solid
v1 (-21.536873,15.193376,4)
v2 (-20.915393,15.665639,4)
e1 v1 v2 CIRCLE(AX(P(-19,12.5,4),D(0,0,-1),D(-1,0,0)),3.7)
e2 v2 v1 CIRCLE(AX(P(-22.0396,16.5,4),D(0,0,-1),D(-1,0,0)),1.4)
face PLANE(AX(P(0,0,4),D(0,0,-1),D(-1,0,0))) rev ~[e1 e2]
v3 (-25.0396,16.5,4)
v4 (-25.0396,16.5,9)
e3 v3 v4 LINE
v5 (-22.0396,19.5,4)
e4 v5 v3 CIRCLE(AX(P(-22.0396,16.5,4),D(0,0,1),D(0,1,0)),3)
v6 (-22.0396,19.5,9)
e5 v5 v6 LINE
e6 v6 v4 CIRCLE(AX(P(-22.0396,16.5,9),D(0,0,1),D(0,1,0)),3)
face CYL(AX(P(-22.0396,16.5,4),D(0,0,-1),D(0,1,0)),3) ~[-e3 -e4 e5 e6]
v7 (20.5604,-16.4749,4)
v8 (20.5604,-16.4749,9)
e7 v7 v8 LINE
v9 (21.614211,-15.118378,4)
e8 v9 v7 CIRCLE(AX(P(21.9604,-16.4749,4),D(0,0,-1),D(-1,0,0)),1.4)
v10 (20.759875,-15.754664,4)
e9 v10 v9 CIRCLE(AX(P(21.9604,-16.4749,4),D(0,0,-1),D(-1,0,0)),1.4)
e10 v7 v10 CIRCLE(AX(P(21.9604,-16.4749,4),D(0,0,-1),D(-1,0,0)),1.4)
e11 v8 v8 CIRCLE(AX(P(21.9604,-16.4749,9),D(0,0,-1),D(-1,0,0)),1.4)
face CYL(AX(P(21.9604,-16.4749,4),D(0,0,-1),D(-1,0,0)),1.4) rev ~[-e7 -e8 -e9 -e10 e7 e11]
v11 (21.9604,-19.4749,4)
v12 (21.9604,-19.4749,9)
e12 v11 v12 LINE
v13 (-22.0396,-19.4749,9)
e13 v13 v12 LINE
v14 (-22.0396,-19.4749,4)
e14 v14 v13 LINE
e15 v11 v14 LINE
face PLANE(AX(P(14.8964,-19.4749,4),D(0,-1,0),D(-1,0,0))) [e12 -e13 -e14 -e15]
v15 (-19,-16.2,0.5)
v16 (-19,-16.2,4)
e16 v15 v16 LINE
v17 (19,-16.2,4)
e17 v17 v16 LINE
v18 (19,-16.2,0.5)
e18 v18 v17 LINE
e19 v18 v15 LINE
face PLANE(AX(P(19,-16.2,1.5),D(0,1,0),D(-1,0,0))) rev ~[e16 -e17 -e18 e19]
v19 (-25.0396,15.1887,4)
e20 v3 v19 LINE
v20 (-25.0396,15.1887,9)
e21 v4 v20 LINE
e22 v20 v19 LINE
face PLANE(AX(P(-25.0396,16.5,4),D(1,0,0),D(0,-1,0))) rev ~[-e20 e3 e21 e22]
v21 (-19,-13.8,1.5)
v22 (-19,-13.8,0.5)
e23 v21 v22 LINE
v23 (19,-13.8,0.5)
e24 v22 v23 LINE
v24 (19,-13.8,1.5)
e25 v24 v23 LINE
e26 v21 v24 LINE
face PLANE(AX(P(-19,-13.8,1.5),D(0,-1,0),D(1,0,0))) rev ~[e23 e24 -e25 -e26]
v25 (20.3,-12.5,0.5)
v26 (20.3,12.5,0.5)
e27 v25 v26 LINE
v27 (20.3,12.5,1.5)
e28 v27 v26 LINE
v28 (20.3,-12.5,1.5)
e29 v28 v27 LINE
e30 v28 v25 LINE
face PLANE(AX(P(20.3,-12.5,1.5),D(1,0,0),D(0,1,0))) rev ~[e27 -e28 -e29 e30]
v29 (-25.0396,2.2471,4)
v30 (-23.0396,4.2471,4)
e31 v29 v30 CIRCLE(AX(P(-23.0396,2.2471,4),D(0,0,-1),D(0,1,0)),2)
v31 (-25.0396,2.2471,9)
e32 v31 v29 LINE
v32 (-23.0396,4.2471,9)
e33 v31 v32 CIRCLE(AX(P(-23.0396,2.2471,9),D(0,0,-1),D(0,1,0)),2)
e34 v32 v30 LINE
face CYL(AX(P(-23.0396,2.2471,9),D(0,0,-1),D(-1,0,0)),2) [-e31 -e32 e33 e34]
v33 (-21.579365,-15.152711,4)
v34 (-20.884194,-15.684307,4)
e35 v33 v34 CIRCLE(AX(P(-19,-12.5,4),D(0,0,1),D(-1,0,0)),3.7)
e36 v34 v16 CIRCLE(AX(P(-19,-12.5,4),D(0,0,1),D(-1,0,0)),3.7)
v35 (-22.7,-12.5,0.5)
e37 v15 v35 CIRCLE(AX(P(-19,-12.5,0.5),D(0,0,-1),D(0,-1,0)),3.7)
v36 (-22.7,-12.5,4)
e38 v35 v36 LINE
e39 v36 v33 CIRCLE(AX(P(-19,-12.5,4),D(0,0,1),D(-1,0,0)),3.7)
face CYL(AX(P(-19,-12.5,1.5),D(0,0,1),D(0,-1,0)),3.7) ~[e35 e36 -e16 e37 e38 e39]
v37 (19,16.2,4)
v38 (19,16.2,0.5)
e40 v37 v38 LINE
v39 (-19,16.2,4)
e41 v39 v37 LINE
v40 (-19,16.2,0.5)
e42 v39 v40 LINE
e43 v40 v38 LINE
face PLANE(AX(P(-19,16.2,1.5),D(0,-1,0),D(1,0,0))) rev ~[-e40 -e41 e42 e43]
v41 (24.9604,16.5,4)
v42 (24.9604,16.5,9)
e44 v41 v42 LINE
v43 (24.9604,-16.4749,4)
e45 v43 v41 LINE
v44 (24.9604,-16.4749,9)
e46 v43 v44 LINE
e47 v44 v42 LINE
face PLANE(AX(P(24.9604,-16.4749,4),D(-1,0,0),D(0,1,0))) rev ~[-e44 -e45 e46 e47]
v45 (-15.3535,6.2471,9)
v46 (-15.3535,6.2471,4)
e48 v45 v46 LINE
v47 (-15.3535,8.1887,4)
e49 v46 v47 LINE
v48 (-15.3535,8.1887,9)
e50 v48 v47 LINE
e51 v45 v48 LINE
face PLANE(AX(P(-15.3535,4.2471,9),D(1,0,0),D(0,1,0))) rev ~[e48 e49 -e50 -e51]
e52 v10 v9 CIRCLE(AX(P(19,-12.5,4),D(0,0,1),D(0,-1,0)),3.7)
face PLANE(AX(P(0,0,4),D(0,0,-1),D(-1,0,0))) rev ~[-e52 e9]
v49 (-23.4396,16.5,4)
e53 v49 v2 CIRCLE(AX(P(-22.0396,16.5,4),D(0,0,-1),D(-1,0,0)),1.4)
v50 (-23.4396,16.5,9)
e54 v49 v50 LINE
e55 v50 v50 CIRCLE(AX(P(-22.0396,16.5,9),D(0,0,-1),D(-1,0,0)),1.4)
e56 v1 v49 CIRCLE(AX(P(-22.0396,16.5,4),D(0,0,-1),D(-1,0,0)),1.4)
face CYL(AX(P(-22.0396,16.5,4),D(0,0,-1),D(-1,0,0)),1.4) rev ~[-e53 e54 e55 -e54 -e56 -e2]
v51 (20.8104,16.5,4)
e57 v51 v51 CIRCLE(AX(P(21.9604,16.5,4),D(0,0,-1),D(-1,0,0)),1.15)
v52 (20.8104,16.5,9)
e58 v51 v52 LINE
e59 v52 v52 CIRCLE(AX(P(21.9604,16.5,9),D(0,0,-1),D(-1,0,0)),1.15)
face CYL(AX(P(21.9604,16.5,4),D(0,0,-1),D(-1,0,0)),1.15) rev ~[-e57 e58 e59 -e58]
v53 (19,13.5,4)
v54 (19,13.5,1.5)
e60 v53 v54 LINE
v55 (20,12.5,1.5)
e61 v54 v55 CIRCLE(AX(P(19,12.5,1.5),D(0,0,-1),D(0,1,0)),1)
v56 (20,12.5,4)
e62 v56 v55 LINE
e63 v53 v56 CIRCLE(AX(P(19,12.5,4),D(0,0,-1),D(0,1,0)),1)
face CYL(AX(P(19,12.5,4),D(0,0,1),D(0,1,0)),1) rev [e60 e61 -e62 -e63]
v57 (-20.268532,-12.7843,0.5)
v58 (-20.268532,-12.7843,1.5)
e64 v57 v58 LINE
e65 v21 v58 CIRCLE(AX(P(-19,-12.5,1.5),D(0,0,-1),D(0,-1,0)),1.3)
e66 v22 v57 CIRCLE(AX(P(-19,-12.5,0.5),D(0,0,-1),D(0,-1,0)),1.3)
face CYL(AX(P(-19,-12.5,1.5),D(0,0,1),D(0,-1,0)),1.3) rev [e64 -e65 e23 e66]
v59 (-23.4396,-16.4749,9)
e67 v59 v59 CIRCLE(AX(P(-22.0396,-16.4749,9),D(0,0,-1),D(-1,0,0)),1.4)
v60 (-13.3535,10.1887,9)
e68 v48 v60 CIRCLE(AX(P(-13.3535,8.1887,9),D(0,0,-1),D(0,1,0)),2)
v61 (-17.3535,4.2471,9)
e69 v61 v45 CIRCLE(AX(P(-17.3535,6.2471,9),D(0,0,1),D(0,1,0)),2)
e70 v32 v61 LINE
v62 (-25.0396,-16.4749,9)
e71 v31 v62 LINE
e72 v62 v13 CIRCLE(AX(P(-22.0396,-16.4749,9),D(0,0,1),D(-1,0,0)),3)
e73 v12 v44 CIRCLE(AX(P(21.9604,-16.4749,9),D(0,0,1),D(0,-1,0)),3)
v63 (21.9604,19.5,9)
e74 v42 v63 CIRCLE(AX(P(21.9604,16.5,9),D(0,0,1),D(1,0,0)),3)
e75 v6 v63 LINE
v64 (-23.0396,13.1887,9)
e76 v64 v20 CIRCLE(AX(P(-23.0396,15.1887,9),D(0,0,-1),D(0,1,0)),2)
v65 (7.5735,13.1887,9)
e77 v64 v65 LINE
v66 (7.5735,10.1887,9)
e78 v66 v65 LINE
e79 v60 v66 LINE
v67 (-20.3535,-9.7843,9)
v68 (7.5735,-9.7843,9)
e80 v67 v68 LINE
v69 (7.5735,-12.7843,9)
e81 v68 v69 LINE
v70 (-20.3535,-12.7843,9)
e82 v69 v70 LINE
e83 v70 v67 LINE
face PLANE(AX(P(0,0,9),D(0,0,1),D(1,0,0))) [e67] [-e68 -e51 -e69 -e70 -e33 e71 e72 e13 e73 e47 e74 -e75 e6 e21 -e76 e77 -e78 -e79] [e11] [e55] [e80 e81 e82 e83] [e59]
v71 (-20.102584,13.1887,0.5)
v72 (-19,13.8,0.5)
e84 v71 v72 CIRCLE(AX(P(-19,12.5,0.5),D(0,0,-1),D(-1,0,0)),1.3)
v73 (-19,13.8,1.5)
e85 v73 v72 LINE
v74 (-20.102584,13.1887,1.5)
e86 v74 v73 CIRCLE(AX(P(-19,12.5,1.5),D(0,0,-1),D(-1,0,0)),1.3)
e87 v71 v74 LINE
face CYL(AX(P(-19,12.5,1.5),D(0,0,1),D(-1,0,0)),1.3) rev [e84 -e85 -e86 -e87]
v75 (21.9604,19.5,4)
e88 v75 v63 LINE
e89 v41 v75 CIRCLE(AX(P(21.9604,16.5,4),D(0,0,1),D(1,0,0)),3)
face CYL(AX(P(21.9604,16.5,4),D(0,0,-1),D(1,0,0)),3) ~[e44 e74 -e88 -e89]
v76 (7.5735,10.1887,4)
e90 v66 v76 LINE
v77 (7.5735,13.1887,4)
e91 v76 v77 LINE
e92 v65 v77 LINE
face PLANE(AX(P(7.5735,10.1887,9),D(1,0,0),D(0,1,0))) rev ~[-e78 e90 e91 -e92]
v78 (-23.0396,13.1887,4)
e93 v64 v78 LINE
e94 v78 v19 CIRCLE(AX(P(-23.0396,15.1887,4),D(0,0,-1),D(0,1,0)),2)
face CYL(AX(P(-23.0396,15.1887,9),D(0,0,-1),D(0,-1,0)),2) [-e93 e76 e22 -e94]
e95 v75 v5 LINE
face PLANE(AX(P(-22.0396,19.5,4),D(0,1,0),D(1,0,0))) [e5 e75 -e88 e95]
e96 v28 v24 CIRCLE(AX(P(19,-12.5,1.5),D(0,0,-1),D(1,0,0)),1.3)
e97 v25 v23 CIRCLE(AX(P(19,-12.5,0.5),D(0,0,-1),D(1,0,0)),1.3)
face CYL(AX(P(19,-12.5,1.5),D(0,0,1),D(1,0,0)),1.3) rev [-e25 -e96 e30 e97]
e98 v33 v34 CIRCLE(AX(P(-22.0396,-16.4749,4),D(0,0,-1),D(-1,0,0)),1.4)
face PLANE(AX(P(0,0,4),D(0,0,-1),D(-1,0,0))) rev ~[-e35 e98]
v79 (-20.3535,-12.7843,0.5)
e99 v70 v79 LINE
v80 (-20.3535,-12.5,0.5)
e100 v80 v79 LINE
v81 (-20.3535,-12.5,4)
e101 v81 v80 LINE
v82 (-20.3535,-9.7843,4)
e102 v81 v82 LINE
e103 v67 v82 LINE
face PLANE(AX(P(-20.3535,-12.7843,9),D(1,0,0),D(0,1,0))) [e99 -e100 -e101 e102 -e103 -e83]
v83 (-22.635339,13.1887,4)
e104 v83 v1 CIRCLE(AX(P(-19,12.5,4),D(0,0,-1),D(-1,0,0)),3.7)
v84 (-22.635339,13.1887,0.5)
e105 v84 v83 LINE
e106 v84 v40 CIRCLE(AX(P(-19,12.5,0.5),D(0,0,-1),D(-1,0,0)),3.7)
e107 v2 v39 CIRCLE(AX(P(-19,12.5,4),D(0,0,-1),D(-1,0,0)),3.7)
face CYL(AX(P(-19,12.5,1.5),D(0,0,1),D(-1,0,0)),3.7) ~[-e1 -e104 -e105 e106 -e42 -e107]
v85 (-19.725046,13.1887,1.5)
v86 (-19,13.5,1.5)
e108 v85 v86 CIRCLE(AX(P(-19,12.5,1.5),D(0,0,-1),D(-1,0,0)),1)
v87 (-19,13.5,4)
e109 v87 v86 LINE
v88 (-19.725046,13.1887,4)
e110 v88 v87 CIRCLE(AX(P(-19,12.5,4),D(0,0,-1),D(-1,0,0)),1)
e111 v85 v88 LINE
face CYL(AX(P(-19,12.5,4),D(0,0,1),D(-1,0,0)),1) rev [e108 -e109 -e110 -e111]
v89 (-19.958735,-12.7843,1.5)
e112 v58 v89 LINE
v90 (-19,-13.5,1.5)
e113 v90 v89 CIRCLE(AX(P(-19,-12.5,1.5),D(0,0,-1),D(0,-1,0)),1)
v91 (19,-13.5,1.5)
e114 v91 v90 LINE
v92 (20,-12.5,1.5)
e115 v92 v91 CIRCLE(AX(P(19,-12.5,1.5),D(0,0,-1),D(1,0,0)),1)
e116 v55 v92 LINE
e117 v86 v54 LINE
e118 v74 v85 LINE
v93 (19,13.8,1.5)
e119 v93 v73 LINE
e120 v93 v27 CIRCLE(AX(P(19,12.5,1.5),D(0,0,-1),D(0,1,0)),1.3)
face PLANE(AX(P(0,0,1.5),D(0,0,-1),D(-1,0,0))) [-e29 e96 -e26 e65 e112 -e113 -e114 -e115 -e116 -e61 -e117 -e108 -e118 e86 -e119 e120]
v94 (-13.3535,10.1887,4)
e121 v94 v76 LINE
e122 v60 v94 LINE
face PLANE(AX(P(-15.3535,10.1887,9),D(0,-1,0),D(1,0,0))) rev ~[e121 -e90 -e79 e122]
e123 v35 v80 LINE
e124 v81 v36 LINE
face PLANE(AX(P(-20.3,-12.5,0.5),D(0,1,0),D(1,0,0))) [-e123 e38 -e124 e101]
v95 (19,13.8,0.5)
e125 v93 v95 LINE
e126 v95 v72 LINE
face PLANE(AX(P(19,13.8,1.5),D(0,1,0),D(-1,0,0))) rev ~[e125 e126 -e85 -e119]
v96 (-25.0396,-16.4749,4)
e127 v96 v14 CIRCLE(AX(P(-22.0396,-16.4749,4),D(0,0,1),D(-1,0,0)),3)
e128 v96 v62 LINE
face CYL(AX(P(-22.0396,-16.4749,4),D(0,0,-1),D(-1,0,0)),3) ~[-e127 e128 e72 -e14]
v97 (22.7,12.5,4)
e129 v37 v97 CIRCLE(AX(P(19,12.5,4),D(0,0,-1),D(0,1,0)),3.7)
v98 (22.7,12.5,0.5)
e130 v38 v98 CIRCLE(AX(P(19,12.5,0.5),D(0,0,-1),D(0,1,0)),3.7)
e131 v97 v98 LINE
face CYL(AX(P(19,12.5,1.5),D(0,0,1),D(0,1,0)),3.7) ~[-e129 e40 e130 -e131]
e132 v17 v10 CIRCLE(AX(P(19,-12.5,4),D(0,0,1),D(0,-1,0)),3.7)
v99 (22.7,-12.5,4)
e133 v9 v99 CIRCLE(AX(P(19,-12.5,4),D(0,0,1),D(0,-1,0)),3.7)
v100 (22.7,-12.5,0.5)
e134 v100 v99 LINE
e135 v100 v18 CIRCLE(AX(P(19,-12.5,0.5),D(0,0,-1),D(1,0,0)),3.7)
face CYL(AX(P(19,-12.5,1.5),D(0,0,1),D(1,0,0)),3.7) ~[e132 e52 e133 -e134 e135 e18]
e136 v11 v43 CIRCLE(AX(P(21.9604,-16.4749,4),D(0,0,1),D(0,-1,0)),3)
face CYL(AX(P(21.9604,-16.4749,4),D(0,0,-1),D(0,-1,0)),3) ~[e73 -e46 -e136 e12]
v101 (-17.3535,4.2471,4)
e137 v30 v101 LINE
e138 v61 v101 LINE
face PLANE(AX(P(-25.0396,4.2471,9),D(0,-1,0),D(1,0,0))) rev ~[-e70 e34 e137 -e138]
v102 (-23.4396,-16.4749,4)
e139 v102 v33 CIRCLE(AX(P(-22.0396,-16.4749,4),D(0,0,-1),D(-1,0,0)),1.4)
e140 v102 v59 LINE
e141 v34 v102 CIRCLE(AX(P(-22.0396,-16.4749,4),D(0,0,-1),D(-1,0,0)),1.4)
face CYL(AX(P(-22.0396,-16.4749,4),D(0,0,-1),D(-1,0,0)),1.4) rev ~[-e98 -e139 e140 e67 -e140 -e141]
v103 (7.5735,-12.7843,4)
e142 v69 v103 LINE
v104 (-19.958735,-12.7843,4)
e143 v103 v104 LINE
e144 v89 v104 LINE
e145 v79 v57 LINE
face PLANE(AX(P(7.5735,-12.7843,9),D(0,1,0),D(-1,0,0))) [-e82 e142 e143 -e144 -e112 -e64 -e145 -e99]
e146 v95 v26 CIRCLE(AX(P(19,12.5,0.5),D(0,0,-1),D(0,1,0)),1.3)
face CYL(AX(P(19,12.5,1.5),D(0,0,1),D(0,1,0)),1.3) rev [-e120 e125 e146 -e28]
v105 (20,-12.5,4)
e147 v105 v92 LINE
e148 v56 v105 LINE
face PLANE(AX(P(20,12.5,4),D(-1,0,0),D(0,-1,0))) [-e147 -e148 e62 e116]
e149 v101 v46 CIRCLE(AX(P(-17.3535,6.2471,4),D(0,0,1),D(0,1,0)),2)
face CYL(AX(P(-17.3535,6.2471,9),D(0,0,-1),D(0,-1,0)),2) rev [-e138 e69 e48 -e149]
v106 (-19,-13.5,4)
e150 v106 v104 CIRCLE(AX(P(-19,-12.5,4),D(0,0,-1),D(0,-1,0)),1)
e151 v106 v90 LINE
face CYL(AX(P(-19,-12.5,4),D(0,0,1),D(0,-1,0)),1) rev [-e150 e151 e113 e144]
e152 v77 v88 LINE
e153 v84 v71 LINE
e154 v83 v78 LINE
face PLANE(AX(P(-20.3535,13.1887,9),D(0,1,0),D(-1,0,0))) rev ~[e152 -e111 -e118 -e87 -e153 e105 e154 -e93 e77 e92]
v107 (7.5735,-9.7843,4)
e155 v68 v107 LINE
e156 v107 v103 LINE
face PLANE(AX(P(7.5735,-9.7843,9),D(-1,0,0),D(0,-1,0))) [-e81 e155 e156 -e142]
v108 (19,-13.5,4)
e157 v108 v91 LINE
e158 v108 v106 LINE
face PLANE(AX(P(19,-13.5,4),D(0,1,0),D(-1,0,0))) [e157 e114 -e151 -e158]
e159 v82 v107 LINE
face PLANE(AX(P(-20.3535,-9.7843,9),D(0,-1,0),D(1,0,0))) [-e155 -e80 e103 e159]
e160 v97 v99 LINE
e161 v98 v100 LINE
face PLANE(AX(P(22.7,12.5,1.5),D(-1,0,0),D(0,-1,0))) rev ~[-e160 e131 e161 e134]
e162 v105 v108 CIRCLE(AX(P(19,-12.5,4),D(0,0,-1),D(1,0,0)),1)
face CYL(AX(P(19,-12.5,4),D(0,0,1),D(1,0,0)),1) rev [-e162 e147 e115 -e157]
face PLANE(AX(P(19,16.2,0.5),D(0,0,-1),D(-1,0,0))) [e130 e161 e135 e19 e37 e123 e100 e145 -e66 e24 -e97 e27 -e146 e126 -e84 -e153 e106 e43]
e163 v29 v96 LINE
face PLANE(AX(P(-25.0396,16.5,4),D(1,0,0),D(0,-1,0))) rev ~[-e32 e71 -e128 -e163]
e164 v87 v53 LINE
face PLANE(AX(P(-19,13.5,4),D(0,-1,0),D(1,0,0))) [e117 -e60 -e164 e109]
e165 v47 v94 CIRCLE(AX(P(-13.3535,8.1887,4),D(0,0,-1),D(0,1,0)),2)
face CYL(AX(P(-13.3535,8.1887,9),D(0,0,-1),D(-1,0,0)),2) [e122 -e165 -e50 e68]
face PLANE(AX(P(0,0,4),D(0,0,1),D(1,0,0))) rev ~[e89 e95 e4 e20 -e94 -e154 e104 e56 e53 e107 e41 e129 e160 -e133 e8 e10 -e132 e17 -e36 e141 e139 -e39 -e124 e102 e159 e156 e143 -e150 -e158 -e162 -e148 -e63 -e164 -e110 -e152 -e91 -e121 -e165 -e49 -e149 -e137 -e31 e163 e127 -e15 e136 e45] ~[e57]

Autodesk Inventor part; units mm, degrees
ref_plane "YZ Plane" through (0, 0, 0) normal (1, 0, 0) x (0, 1, 0)
ref_plane "Arbeitsebene1" through (0, 0, 4) normal (0, 0, 1) x (1, 0, 0)
sketch "Skizze1" plane through (0, 0, 4) normal (0, 0, 1) x (1, 0, 0)
  line L0 (21.8964, 12.5) -> (21.8964, -12.5) construction
  arc A0 (14.8964, -19.5) -> (21.8964, -12.5) centre (14.8964, -12.5) ccw construction
  line L1 (14.8964, -19.5) -> (-23.1036, -19.5) construction
  arc A1 (-30.1036, -12.5) -> (-23.1036, -19.5) centre (-23.1036, -12.5) ccw construction
  line L2 (-30.1036, -12.5) -> (-30.1036, 12.5) construction
  arc A2 (-23.1036, 19.5) -> (-30.1036, 12.5) centre (-23.1036, 12.5) ccw construction
  line L3 (-23.1036, 19.5) -> (14.8964, 19.5) construction
  arc A3 (21.8964, 12.5) -> (14.8964, 19.5) centre (14.8964, 12.5) ccw construction
  line L4 (-26.9233, 19.5) -> (14.8964, 19.5)
  line L5 (14.8964, 19.5) -> (14.8964, -19.4749)
  line L6 (14.8964, -19.4749) -> (-26.9233, -19.4749)
  line L7 (-26.9233, -19.4749) -> (-26.9233, 19.5)
  line L8 (2.5735, 11.7657) -> (-15.3535, 11.7657) construction
  line L9 (2.5735, 13.7657) -> (-15.3535, 13.7657)
  line L10 (-15.3535, 9.7657) -> (2.5735, 9.7657)
  arc A4 (2.5735, 9.7657) -> (2.5735, 13.7657) centre (2.5735, 11.7657) ccw
  arc A5 (-15.3535, 13.7657) -> (-15.3535, 9.7657) centre (-15.3535, 11.7657) ccw
  line L11 (2.4395, -11.3613) -> (-15.3535, -11.3613) construction
  line L12 (2.4395, -9.3613) -> (-15.3535, -9.3613)
  line L13 (-15.3535, -13.3613) -> (2.4395, -13.3613)
  arc A6 (2.4395, -13.3613) -> (2.4395, -9.3613) centre (2.4395, -11.3613) ccw
  arc A7 (-15.3535, -9.3613) -> (-15.3535, -13.3613) centre (-15.3535, -11.3613) ccw
  line L14 (24.9604, -16.4749) -> (24.9604, 19.5) construction
  line L15 (21.9604, 19.5) -> (-22.0396, 19.5) construction
  line L16 (-25.0396, 19.5) -> (-25.0396, -16.4749) construction
  line L17 (-22.0396, -19.4749) -> (24.9604, -19.4749) construction
  line L18 (24.9604, 19.5) -> (14.8964, 19.5)
  line L19 (14.8964, 19.5) -> (14.8964, -19.4749)
  line L20 (14.8964, -19.4749) -> (21.9604, -19.4749)
  line L21 (24.9604, -19.4749) -> (24.9604, 16.5)
  line L22 (-26.9233, 19.5) -> (-25.0396, 19.5)
  line L23 (-25.0396, -19.4749) -> (-26.9233, -19.4749)
  line L24 (-26.9233, -19.4749) -> (-26.9233, 19.5)
  arc A8 (-25.0396, -16.4749) -> (-22.0396, -19.4749) centre (-22.0396, -16.4749) ccw
  arc A9 (-22.0396, 19.5) -> (-25.0396, 16.5) centre (-22.0396, 16.5) ccw
  arc A10 (24.9604, 16.5) -> (21.9604, 19.5) centre (21.9604, 16.5) ccw
  arc A11 (21.9604, -19.4749) -> (24.9604, -16.4749) centre (21.9604, -16.4749) ccw
  line L25 (8.61, 8.7657) -> (-21.39, 8.7657)
  line L26 (-21.39, 8.7657) -> (-21.39, 14.7657)
  line L27 (-21.39, 14.7657) -> (8.61, 14.7657)
  line L28 (8.61, 14.7657) -> (8.61, 8.7657)
  line L29 (8.61, 8.7657) -> (-21.39, 14.7657) construction
  line L30 (-21.39, 8.7657) -> (8.61, 14.7657) construction
  line L31 (8.543, -14.3613) -> (-21.457, -14.3613)
  line L32 (-21.457, -14.3613) -> (-21.457, -8.3613)
  line L33 (-21.457, -8.3613) -> (8.543, -8.3613)
  line L34 (8.543, -8.3613) -> (8.543, -14.3613)
  line L35 (8.543, -14.3613) -> (-21.457, -8.3613) construction
  line L36 (-21.457, -14.3613) -> (8.543, -8.3613) construction
  line L37 (-25.0396, 16.5) -> (-25.0396, -16.4749)
  line L38 (-25.0396, -19.227) -> (-25.0396, -19.4749)
  point P0 (0, 0)
  point P1 (-15.2165, -11.3613)
  point P2 (-6.39, 11.7657)
  point P3 (-6.457, -11.3613)
  point P4 (-24, -18.4749)
  point P5 (33.4901, -16.4749)
  point P6 (-34.4755, 19.5)
  point P7 (-34.4755, -19.4749)
  point P8 (-22.0396, -19.4749)
  dimension "d1" = 4
  dimension "d2" = 4
  dimension "d5" = 3
  dimension "d37" = 30
  dimension "d38" = 6
  dimension "d39" = 6
  dimension "d40" = 30
  dimension "d55" = 50
extrude "Extrusion1" add sketch "Skizze1" along normal blind 5 contours L4 L5 L6 A8 L37 A9 | L18 A10 L21 A11 L20 L5 | A4 L10 A5 L9 | A6 L13 A7 L12 | L25 L26 L27 L28 | L31 L32 L33 L34
sketch "Skizze3" plane through (0, 0, 4) normal (0, 0, -1) x (-1, 0, 0)
  line L0 (22.0396, -19.4749) -> (-21.9604, -19.4749) projected
  line L1 (-21.9604, 19.5) -> (22.0396, 19.5) projected
  arc A0 (-21.9604, 19.5) -> (-24.9604, 16.5) centre (-21.9604, 16.5) ccw projected
  line L2 (-24.9604, -16.4749) -> (-24.9604, 16.5) projected
  circle A1 centre (-21.9604, 16.5) radius 1.15
  circle A2 centre (-21.9604, -16.4749) radius 1.4
  circle A3 centre (22.0396, 16.5) radius 1.4
  circle A4 centre (22.0396, -16.4749) radius 1.4
  arc A5 (-24.9604, -16.4749) -> (-21.9604, -19.4749) centre (-21.9604, -16.4749) ccw projected
  line L3 (25.0396, 16.5) -> (25.0396, -16.4749) projected
  arc A6 (25.0396, 16.5) -> (22.0396, 19.5) centre (22.0396, 16.5) ccw projected
  arc A7 (22.0396, -19.4749) -> (25.0396, -16.4749) centre (22.0396, -16.4749) ccw projected
  point P0 (0, 0)
  dimension "d16" = 2.3
  dimension "d17" = 2.8
  dimension "d18" = 2.8
  dimension "d19" = 2.8
extrude "Extrusion3" cut sketch "Skizze3" against normal blind 10 contours A1 | A2 | A3 | A4
sketch "Skizze9" plane through (0, 0, 4) normal (0, 0, -1) x (-1, 0, 0)
  arc A0 (19, -13.5) -> (20, -12.5) centre (19, -12.5) ccw projected
  line L0 (20, -12.5) -> (20, 12.5) projected
  arc A1 (20, 12.5) -> (19, 13.5) centre (19, 12.5) ccw projected
  line L1 (19, 13.5) -> (-19, 13.5) projected
  arc A2 (-19, 13.5) -> (-20, 12.5) centre (-19, 12.5) ccw projected
  line L2 (-20, 12.5) -> (-20, -12.5) projected
  arc A3 (-20, -12.5) -> (-19, -13.5) centre (-19, -12.5) ccw projected
  line L3 (-19, -13.5) -> (19, -13.5) projected
  line L4 (-19, 13.2) -> (19, 13.2)
  arc A4 (19.7, 12.5) -> (19, 13.2) centre (19, 12.5) ccw
  line L5 (19.7, 12.5) -> (19.7, -12.5)
  arc A5 (19, -13.2) -> (19.7, -12.5) centre (19, -12.5) ccw
  line L6 (19, -13.2) -> (-19, -13.2)
  arc A6 (-19.7, -12.5) -> (-19, -13.2) centre (-19, -12.5) ccw
  line L7 (-19.7, -12.5) -> (-19.7, 12.5)
  arc A7 (-19, 13.2) -> (-19.7, 12.5) centre (-19, 12.5) ccw
  line L8 (19, 16.2) -> (-19, 16.2)
  arc A8 (-19, 16.2) -> (-22.7, 12.5) centre (-19, 12.5) ccw
  line L9 (-22.7, 12.5) -> (-22.7, -12.5)
  arc A9 (-22.7, -12.5) -> (-19, -16.2) centre (-19, -12.5) ccw
  line L10 (-19, -16.2) -> (19, -16.2)
  arc A10 (19, -16.2) -> (22.7, -12.5) centre (19, -12.5) ccw
  line L11 (22.7, -12.5) -> (22.7, 12.5)
  arc A11 (22.7, 12.5) -> (19, 16.2) centre (19, 12.5) ccw
  circle A12 centre (-21.9604, 16.5) radius 1.15 projected
  circle A13 centre (22.0396, 16.5) radius 1.4 projected
  circle A14 centre (22.0396, -16.4749) radius 1.4 projected
  circle A15 centre (-21.9604, -16.4749) radius 1.4 projected
  point P0 (0, 0)
  dimension "d46" = 0.3
  dimension "d47" = 3
ref_plane "Arbeitsebene4" through (-20, -13.5, 1.5) normal (0, 0, 1) x (1, 0, 0)
extrude "Extrusion8" add sketch "Skizze9" along normal up to surface (2.5 mm away) contours A11 A13 L11 A10 A14 L10 A9 A15 L9 A8 L8 | A11 A13 | A15 A9 | A10 A14 picked at (21.2445, 15.3819) picked at (-21.1797, -15.4267) picked at (21.1725, -15.4212)
sketch "Skizze10" plane through (19, 16.2, 1.5) normal (0, 0, -1) x (-1, 0, 0)
  arc A0 (38, -29.7) -> (39, -28.7) centre (38, -28.7) ccw projected
  line L0 (39, -28.7) -> (39, -3.7) projected
  arc A1 (39, -3.7) -> (38, -2.7) centre (38, -3.7) ccw projected
  line L1 (38, -2.7) -> (0, -2.7) projected
  arc A2 (0, -2.7) -> (-1, -3.7) centre (0, -3.7) ccw projected
  line L2 (-1, -3.7) -> (-1, -28.7) projected
  arc A3 (-1, -28.7) -> (0, -29.7) centre (0, -28.7) ccw projected
  line L3 (0, -29.7) -> (38, -29.7) projected
  arc A4 (38, -29.7) -> (39, -28.7) centre (38, -28.7) ccw projected
  line L4 (38, -29.7) -> (0, -29.7) projected
  arc A5 (-1, -28.7) -> (0, -29.7) centre (0, -28.7) ccw projected
  line L5 (-1, -28.7) -> (-1, -3.7) projected
  arc A6 (0, -2.7) -> (-1, -3.7) centre (0, -3.7) ccw projected
  line L6 (0, -2.7) -> (38, -2.7) projected
  arc A7 (39, -3.7) -> (38, -2.7) centre (38, -3.7) ccw projected
  line L7 (39, -3.7) -> (39, -28.7) projected
  line L8 (38, 0) -> (0, 0) projected
  arc A8 (0, 0) -> (-3.7, -3.7) centre (0, -3.7) ccw projected
  line L9 (-3.7, -3.7) -> (-3.7, -28.7) projected
  arc A9 (-3.7, -28.7) -> (0, -32.4) centre (0, -28.7) ccw projected
  line L10 (0, -32.4) -> (38, -32.4) projected
  arc A10 (38, -32.4) -> (41.7, -28.7) centre (38, -28.7) ccw projected
  line L11 (41.7, -28.7) -> (41.7, -3.7) projected
  arc A11 (41.7, -3.7) -> (38, 0) centre (38, -3.7) ccw projected
  line L12 (0, -2.4) -> (38, -2.4)
  arc A12 (39.3, -3.7) -> (38, -2.4) centre (38, -3.7) ccw
  line L13 (39.3, -3.7) -> (39.3, -28.7)
  arc A13 (38, -30) -> (39.3, -28.7) centre (38, -28.7) ccw
  line L14 (38, -30) -> (0, -30)
  arc A14 (-1.3, -28.7) -> (0, -30) centre (0, -28.7) ccw
  line L15 (-1.3, -28.7) -> (-1.3, -3.7)
  arc A15 (0, -2.4) -> (-1.3, -3.7) centre (0, -3.7) ccw
  point P0 (19, -16.2)
  dimension "d50" = 0.3
ref_plane "Arbeitsebene5" through (-20, -13.5, 0.5) normal (0, 0, -1) x (0, 1, 0)
extrude "Extrusion9" add sketch "Skizze10" along normal up to surface (1 mm away) contours A11 L11 A10 L10 A9 L9 A8 L8
sketch "Skizze11" plane through (19, 16.2, 0.5) normal (0, 0, -1) x (-1, 0, 0)
  arc A0 (-1.3, -28.7) -> (0, -30) centre (0, -28.7) ccw projected
  line L0 (-1.3, -3.7) -> (-1.3, -28.7) projected
  arc A1 (0, -2.4) -> (-1.3, -3.7) centre (0, -3.7) ccw projected
  line L1 (38, -2.4) -> (0, -2.4) projected
  arc A2 (39.3, -3.7) -> (38, -2.4) centre (38, -3.7) ccw projected
  line L2 (39.3, -28.7) -> (39.3, -3.7) projected
  arc A3 (38, -30) -> (39.3, -28.7) centre (38, -28.7) ccw projected
  line L3 (0, -30) -> (38, -30) projected
  line L4 (0, 0) -> (38, 0) projected
  arc A4 (0, 0) -> (-3.7, -3.7) centre (0, -3.7) ccw projected
  line L5 (-3.7, -28.7) -> (-3.7, -3.7) projected
  arc A5 (-3.7, -28.7) -> (0, -32.4) centre (0, -28.7) ccw projected
  line L6 (38, -32.4) -> (0, -32.4) projected
  arc A6 (38, -32.4) -> (41.7, -28.7) centre (38, -28.7) ccw projected
  line L7 (41.7, -3.7) -> (41.7, -28.7) projected
  arc A7 (41.7, -3.7) -> (38, 0) centre (38, -3.7) ccw projected
  line L8 (41.7, -3.7) -> (41.7, -28.7) projected
  line L9 (39.3, -28.7) -> (39.3, -3.7) projected
  line L10 (41.7, -28.7) -> (39.3, -28.7)
  line L11 (39.3, -28.7) -> (39.3, -3.7)
  line L12 (39.3, -3.7) -> (41.7, -3.7)
  line L13 (41.7, -3.7) -> (41.7, -28.7)
  line L14 (39.3, -28.7) -> (36.2612, -28.7)
  line L15 (36.2612, -28.7) -> (36.2612, -3.7)
  line L16 (36.2612, -3.7) -> (39.3, -3.7)
  line L17 (39.3, -3.7) -> (39.3, -28.7)
  point P0 (19, -16.2)
extrude "Extrusion10" cut sketch "Skizze11" against normal up to surface (3.5 mm away) contours L14 L15 L16 L2 | L2 L12 L7 L10
sketch "Sketch12" plane through (0, 0, 9) normal (0, 0, 1) x (1, 0, 0)
  circle A0 centre (21.9604, 16.5) radius 1.15 projected
  line L0 (-25.0396, 16.5) -> (-25.0396, -16.4749) projected
  arc A1 (-25.0396, -16.4749) -> (-22.0396, -19.4749) centre (-22.0396, -16.4749) ccw projected
  line L1 (-22.0396, -19.4749) -> (21.9604, -19.4749) projected
  arc A2 (21.9604, -19.4749) -> (24.9604, -16.4749) centre (21.9604, -16.4749) ccw projected
  line L2 (24.9604, -16.4749) -> (24.9604, 16.5) projected
  arc A3 (24.9604, 16.5) -> (21.9604, 19.5) centre (21.9604, 16.5) ccw projected
  line L3 (21.9604, 19.5) -> (-22.0396, 19.5) projected
  arc A4 (-22.0396, 19.5) -> (-25.0396, 16.5) centre (-22.0396, 16.5) ccw projected
  line L4 (7.5735, -12.7843) -> (-20.3535, -12.7843)
  line L5 (-20.3535, -12.7843) -> (-20.3535, -9.7843)
  line L6 (-20.3535, -9.7843) -> (7.5735, -9.7843)
  line L7 (7.5735, -9.7843) -> (7.5735, -12.7843)
  line L8 (-20.3535, 10.1887) -> (7.5735, 10.1887)
  line L9 (7.5735, 10.1887) -> (7.5735, 13.1887)
  line L10 (7.5735, 13.1887) -> (-20.3535, 13.1887)
  line L11 (-20.3535, 13.1887) -> (-20.3535, 10.1887)
  line L12 (-25.0396, 16.5) -> (-25.0396, -16.4749) projected
  line L13 (-15.3535, 10.1887) -> (-25.0396, 10.1887)
  line L14 (-25.0396, 10.1887) -> (-25.0396, 4.2471)
  line L15 (-25.0396, 4.2471) -> (-15.3535, 4.2471)
  line L16 (-15.3535, 4.2471) -> (-15.3535, 10.1887)
  line L17 (-20.3535, 13.1887) -> (-25.0396, 13.1887)
  line L18 (-25.0396, 13.1887) -> (-25.0396, 10.1887)
  line L19 (-25.0396, 10.1887) -> (-20.3535, 10.1887)
  line L20 (-20.3535, 10.1887) -> (-20.3535, 13.1887)
  point P0 (0, 0)
  point P1 (2.4395, -11.2343)
  point P2 (2.5735, 11.6387)
  point P3 (-15.3535, 11.7657)
  dimension "d56" = 3
  dimension "d57" = 3
  dimension "d58" = 1.55
  dimension "d59" = 1.55
  dimension "d60" = 5
  dimension "d61" = 5
extrude "Extrusion11" cut sketch "Sketch12" against normal through all contours L17 L11 L13 L0 | L13 L8 L16 L15 L0 | L10 L9 L8 L11 | L4 L5 L6 L7
fillet "Fillet2" radius 2 4 edges at (-15.3535, 10.1887, 6.5) (-15.3535, 4.2471, 6.5) (-25.0396, 4.2471, 6.5) (-25.0396, 13.1887, 6.5)
sketch "Sketch13" plane through (0, 0, 9) normal (0, 0, 1) x (1, 0, 0)
  point P0 (0, 0)
properties part number "ESP32ParasiteMicroscope_base_v0"
